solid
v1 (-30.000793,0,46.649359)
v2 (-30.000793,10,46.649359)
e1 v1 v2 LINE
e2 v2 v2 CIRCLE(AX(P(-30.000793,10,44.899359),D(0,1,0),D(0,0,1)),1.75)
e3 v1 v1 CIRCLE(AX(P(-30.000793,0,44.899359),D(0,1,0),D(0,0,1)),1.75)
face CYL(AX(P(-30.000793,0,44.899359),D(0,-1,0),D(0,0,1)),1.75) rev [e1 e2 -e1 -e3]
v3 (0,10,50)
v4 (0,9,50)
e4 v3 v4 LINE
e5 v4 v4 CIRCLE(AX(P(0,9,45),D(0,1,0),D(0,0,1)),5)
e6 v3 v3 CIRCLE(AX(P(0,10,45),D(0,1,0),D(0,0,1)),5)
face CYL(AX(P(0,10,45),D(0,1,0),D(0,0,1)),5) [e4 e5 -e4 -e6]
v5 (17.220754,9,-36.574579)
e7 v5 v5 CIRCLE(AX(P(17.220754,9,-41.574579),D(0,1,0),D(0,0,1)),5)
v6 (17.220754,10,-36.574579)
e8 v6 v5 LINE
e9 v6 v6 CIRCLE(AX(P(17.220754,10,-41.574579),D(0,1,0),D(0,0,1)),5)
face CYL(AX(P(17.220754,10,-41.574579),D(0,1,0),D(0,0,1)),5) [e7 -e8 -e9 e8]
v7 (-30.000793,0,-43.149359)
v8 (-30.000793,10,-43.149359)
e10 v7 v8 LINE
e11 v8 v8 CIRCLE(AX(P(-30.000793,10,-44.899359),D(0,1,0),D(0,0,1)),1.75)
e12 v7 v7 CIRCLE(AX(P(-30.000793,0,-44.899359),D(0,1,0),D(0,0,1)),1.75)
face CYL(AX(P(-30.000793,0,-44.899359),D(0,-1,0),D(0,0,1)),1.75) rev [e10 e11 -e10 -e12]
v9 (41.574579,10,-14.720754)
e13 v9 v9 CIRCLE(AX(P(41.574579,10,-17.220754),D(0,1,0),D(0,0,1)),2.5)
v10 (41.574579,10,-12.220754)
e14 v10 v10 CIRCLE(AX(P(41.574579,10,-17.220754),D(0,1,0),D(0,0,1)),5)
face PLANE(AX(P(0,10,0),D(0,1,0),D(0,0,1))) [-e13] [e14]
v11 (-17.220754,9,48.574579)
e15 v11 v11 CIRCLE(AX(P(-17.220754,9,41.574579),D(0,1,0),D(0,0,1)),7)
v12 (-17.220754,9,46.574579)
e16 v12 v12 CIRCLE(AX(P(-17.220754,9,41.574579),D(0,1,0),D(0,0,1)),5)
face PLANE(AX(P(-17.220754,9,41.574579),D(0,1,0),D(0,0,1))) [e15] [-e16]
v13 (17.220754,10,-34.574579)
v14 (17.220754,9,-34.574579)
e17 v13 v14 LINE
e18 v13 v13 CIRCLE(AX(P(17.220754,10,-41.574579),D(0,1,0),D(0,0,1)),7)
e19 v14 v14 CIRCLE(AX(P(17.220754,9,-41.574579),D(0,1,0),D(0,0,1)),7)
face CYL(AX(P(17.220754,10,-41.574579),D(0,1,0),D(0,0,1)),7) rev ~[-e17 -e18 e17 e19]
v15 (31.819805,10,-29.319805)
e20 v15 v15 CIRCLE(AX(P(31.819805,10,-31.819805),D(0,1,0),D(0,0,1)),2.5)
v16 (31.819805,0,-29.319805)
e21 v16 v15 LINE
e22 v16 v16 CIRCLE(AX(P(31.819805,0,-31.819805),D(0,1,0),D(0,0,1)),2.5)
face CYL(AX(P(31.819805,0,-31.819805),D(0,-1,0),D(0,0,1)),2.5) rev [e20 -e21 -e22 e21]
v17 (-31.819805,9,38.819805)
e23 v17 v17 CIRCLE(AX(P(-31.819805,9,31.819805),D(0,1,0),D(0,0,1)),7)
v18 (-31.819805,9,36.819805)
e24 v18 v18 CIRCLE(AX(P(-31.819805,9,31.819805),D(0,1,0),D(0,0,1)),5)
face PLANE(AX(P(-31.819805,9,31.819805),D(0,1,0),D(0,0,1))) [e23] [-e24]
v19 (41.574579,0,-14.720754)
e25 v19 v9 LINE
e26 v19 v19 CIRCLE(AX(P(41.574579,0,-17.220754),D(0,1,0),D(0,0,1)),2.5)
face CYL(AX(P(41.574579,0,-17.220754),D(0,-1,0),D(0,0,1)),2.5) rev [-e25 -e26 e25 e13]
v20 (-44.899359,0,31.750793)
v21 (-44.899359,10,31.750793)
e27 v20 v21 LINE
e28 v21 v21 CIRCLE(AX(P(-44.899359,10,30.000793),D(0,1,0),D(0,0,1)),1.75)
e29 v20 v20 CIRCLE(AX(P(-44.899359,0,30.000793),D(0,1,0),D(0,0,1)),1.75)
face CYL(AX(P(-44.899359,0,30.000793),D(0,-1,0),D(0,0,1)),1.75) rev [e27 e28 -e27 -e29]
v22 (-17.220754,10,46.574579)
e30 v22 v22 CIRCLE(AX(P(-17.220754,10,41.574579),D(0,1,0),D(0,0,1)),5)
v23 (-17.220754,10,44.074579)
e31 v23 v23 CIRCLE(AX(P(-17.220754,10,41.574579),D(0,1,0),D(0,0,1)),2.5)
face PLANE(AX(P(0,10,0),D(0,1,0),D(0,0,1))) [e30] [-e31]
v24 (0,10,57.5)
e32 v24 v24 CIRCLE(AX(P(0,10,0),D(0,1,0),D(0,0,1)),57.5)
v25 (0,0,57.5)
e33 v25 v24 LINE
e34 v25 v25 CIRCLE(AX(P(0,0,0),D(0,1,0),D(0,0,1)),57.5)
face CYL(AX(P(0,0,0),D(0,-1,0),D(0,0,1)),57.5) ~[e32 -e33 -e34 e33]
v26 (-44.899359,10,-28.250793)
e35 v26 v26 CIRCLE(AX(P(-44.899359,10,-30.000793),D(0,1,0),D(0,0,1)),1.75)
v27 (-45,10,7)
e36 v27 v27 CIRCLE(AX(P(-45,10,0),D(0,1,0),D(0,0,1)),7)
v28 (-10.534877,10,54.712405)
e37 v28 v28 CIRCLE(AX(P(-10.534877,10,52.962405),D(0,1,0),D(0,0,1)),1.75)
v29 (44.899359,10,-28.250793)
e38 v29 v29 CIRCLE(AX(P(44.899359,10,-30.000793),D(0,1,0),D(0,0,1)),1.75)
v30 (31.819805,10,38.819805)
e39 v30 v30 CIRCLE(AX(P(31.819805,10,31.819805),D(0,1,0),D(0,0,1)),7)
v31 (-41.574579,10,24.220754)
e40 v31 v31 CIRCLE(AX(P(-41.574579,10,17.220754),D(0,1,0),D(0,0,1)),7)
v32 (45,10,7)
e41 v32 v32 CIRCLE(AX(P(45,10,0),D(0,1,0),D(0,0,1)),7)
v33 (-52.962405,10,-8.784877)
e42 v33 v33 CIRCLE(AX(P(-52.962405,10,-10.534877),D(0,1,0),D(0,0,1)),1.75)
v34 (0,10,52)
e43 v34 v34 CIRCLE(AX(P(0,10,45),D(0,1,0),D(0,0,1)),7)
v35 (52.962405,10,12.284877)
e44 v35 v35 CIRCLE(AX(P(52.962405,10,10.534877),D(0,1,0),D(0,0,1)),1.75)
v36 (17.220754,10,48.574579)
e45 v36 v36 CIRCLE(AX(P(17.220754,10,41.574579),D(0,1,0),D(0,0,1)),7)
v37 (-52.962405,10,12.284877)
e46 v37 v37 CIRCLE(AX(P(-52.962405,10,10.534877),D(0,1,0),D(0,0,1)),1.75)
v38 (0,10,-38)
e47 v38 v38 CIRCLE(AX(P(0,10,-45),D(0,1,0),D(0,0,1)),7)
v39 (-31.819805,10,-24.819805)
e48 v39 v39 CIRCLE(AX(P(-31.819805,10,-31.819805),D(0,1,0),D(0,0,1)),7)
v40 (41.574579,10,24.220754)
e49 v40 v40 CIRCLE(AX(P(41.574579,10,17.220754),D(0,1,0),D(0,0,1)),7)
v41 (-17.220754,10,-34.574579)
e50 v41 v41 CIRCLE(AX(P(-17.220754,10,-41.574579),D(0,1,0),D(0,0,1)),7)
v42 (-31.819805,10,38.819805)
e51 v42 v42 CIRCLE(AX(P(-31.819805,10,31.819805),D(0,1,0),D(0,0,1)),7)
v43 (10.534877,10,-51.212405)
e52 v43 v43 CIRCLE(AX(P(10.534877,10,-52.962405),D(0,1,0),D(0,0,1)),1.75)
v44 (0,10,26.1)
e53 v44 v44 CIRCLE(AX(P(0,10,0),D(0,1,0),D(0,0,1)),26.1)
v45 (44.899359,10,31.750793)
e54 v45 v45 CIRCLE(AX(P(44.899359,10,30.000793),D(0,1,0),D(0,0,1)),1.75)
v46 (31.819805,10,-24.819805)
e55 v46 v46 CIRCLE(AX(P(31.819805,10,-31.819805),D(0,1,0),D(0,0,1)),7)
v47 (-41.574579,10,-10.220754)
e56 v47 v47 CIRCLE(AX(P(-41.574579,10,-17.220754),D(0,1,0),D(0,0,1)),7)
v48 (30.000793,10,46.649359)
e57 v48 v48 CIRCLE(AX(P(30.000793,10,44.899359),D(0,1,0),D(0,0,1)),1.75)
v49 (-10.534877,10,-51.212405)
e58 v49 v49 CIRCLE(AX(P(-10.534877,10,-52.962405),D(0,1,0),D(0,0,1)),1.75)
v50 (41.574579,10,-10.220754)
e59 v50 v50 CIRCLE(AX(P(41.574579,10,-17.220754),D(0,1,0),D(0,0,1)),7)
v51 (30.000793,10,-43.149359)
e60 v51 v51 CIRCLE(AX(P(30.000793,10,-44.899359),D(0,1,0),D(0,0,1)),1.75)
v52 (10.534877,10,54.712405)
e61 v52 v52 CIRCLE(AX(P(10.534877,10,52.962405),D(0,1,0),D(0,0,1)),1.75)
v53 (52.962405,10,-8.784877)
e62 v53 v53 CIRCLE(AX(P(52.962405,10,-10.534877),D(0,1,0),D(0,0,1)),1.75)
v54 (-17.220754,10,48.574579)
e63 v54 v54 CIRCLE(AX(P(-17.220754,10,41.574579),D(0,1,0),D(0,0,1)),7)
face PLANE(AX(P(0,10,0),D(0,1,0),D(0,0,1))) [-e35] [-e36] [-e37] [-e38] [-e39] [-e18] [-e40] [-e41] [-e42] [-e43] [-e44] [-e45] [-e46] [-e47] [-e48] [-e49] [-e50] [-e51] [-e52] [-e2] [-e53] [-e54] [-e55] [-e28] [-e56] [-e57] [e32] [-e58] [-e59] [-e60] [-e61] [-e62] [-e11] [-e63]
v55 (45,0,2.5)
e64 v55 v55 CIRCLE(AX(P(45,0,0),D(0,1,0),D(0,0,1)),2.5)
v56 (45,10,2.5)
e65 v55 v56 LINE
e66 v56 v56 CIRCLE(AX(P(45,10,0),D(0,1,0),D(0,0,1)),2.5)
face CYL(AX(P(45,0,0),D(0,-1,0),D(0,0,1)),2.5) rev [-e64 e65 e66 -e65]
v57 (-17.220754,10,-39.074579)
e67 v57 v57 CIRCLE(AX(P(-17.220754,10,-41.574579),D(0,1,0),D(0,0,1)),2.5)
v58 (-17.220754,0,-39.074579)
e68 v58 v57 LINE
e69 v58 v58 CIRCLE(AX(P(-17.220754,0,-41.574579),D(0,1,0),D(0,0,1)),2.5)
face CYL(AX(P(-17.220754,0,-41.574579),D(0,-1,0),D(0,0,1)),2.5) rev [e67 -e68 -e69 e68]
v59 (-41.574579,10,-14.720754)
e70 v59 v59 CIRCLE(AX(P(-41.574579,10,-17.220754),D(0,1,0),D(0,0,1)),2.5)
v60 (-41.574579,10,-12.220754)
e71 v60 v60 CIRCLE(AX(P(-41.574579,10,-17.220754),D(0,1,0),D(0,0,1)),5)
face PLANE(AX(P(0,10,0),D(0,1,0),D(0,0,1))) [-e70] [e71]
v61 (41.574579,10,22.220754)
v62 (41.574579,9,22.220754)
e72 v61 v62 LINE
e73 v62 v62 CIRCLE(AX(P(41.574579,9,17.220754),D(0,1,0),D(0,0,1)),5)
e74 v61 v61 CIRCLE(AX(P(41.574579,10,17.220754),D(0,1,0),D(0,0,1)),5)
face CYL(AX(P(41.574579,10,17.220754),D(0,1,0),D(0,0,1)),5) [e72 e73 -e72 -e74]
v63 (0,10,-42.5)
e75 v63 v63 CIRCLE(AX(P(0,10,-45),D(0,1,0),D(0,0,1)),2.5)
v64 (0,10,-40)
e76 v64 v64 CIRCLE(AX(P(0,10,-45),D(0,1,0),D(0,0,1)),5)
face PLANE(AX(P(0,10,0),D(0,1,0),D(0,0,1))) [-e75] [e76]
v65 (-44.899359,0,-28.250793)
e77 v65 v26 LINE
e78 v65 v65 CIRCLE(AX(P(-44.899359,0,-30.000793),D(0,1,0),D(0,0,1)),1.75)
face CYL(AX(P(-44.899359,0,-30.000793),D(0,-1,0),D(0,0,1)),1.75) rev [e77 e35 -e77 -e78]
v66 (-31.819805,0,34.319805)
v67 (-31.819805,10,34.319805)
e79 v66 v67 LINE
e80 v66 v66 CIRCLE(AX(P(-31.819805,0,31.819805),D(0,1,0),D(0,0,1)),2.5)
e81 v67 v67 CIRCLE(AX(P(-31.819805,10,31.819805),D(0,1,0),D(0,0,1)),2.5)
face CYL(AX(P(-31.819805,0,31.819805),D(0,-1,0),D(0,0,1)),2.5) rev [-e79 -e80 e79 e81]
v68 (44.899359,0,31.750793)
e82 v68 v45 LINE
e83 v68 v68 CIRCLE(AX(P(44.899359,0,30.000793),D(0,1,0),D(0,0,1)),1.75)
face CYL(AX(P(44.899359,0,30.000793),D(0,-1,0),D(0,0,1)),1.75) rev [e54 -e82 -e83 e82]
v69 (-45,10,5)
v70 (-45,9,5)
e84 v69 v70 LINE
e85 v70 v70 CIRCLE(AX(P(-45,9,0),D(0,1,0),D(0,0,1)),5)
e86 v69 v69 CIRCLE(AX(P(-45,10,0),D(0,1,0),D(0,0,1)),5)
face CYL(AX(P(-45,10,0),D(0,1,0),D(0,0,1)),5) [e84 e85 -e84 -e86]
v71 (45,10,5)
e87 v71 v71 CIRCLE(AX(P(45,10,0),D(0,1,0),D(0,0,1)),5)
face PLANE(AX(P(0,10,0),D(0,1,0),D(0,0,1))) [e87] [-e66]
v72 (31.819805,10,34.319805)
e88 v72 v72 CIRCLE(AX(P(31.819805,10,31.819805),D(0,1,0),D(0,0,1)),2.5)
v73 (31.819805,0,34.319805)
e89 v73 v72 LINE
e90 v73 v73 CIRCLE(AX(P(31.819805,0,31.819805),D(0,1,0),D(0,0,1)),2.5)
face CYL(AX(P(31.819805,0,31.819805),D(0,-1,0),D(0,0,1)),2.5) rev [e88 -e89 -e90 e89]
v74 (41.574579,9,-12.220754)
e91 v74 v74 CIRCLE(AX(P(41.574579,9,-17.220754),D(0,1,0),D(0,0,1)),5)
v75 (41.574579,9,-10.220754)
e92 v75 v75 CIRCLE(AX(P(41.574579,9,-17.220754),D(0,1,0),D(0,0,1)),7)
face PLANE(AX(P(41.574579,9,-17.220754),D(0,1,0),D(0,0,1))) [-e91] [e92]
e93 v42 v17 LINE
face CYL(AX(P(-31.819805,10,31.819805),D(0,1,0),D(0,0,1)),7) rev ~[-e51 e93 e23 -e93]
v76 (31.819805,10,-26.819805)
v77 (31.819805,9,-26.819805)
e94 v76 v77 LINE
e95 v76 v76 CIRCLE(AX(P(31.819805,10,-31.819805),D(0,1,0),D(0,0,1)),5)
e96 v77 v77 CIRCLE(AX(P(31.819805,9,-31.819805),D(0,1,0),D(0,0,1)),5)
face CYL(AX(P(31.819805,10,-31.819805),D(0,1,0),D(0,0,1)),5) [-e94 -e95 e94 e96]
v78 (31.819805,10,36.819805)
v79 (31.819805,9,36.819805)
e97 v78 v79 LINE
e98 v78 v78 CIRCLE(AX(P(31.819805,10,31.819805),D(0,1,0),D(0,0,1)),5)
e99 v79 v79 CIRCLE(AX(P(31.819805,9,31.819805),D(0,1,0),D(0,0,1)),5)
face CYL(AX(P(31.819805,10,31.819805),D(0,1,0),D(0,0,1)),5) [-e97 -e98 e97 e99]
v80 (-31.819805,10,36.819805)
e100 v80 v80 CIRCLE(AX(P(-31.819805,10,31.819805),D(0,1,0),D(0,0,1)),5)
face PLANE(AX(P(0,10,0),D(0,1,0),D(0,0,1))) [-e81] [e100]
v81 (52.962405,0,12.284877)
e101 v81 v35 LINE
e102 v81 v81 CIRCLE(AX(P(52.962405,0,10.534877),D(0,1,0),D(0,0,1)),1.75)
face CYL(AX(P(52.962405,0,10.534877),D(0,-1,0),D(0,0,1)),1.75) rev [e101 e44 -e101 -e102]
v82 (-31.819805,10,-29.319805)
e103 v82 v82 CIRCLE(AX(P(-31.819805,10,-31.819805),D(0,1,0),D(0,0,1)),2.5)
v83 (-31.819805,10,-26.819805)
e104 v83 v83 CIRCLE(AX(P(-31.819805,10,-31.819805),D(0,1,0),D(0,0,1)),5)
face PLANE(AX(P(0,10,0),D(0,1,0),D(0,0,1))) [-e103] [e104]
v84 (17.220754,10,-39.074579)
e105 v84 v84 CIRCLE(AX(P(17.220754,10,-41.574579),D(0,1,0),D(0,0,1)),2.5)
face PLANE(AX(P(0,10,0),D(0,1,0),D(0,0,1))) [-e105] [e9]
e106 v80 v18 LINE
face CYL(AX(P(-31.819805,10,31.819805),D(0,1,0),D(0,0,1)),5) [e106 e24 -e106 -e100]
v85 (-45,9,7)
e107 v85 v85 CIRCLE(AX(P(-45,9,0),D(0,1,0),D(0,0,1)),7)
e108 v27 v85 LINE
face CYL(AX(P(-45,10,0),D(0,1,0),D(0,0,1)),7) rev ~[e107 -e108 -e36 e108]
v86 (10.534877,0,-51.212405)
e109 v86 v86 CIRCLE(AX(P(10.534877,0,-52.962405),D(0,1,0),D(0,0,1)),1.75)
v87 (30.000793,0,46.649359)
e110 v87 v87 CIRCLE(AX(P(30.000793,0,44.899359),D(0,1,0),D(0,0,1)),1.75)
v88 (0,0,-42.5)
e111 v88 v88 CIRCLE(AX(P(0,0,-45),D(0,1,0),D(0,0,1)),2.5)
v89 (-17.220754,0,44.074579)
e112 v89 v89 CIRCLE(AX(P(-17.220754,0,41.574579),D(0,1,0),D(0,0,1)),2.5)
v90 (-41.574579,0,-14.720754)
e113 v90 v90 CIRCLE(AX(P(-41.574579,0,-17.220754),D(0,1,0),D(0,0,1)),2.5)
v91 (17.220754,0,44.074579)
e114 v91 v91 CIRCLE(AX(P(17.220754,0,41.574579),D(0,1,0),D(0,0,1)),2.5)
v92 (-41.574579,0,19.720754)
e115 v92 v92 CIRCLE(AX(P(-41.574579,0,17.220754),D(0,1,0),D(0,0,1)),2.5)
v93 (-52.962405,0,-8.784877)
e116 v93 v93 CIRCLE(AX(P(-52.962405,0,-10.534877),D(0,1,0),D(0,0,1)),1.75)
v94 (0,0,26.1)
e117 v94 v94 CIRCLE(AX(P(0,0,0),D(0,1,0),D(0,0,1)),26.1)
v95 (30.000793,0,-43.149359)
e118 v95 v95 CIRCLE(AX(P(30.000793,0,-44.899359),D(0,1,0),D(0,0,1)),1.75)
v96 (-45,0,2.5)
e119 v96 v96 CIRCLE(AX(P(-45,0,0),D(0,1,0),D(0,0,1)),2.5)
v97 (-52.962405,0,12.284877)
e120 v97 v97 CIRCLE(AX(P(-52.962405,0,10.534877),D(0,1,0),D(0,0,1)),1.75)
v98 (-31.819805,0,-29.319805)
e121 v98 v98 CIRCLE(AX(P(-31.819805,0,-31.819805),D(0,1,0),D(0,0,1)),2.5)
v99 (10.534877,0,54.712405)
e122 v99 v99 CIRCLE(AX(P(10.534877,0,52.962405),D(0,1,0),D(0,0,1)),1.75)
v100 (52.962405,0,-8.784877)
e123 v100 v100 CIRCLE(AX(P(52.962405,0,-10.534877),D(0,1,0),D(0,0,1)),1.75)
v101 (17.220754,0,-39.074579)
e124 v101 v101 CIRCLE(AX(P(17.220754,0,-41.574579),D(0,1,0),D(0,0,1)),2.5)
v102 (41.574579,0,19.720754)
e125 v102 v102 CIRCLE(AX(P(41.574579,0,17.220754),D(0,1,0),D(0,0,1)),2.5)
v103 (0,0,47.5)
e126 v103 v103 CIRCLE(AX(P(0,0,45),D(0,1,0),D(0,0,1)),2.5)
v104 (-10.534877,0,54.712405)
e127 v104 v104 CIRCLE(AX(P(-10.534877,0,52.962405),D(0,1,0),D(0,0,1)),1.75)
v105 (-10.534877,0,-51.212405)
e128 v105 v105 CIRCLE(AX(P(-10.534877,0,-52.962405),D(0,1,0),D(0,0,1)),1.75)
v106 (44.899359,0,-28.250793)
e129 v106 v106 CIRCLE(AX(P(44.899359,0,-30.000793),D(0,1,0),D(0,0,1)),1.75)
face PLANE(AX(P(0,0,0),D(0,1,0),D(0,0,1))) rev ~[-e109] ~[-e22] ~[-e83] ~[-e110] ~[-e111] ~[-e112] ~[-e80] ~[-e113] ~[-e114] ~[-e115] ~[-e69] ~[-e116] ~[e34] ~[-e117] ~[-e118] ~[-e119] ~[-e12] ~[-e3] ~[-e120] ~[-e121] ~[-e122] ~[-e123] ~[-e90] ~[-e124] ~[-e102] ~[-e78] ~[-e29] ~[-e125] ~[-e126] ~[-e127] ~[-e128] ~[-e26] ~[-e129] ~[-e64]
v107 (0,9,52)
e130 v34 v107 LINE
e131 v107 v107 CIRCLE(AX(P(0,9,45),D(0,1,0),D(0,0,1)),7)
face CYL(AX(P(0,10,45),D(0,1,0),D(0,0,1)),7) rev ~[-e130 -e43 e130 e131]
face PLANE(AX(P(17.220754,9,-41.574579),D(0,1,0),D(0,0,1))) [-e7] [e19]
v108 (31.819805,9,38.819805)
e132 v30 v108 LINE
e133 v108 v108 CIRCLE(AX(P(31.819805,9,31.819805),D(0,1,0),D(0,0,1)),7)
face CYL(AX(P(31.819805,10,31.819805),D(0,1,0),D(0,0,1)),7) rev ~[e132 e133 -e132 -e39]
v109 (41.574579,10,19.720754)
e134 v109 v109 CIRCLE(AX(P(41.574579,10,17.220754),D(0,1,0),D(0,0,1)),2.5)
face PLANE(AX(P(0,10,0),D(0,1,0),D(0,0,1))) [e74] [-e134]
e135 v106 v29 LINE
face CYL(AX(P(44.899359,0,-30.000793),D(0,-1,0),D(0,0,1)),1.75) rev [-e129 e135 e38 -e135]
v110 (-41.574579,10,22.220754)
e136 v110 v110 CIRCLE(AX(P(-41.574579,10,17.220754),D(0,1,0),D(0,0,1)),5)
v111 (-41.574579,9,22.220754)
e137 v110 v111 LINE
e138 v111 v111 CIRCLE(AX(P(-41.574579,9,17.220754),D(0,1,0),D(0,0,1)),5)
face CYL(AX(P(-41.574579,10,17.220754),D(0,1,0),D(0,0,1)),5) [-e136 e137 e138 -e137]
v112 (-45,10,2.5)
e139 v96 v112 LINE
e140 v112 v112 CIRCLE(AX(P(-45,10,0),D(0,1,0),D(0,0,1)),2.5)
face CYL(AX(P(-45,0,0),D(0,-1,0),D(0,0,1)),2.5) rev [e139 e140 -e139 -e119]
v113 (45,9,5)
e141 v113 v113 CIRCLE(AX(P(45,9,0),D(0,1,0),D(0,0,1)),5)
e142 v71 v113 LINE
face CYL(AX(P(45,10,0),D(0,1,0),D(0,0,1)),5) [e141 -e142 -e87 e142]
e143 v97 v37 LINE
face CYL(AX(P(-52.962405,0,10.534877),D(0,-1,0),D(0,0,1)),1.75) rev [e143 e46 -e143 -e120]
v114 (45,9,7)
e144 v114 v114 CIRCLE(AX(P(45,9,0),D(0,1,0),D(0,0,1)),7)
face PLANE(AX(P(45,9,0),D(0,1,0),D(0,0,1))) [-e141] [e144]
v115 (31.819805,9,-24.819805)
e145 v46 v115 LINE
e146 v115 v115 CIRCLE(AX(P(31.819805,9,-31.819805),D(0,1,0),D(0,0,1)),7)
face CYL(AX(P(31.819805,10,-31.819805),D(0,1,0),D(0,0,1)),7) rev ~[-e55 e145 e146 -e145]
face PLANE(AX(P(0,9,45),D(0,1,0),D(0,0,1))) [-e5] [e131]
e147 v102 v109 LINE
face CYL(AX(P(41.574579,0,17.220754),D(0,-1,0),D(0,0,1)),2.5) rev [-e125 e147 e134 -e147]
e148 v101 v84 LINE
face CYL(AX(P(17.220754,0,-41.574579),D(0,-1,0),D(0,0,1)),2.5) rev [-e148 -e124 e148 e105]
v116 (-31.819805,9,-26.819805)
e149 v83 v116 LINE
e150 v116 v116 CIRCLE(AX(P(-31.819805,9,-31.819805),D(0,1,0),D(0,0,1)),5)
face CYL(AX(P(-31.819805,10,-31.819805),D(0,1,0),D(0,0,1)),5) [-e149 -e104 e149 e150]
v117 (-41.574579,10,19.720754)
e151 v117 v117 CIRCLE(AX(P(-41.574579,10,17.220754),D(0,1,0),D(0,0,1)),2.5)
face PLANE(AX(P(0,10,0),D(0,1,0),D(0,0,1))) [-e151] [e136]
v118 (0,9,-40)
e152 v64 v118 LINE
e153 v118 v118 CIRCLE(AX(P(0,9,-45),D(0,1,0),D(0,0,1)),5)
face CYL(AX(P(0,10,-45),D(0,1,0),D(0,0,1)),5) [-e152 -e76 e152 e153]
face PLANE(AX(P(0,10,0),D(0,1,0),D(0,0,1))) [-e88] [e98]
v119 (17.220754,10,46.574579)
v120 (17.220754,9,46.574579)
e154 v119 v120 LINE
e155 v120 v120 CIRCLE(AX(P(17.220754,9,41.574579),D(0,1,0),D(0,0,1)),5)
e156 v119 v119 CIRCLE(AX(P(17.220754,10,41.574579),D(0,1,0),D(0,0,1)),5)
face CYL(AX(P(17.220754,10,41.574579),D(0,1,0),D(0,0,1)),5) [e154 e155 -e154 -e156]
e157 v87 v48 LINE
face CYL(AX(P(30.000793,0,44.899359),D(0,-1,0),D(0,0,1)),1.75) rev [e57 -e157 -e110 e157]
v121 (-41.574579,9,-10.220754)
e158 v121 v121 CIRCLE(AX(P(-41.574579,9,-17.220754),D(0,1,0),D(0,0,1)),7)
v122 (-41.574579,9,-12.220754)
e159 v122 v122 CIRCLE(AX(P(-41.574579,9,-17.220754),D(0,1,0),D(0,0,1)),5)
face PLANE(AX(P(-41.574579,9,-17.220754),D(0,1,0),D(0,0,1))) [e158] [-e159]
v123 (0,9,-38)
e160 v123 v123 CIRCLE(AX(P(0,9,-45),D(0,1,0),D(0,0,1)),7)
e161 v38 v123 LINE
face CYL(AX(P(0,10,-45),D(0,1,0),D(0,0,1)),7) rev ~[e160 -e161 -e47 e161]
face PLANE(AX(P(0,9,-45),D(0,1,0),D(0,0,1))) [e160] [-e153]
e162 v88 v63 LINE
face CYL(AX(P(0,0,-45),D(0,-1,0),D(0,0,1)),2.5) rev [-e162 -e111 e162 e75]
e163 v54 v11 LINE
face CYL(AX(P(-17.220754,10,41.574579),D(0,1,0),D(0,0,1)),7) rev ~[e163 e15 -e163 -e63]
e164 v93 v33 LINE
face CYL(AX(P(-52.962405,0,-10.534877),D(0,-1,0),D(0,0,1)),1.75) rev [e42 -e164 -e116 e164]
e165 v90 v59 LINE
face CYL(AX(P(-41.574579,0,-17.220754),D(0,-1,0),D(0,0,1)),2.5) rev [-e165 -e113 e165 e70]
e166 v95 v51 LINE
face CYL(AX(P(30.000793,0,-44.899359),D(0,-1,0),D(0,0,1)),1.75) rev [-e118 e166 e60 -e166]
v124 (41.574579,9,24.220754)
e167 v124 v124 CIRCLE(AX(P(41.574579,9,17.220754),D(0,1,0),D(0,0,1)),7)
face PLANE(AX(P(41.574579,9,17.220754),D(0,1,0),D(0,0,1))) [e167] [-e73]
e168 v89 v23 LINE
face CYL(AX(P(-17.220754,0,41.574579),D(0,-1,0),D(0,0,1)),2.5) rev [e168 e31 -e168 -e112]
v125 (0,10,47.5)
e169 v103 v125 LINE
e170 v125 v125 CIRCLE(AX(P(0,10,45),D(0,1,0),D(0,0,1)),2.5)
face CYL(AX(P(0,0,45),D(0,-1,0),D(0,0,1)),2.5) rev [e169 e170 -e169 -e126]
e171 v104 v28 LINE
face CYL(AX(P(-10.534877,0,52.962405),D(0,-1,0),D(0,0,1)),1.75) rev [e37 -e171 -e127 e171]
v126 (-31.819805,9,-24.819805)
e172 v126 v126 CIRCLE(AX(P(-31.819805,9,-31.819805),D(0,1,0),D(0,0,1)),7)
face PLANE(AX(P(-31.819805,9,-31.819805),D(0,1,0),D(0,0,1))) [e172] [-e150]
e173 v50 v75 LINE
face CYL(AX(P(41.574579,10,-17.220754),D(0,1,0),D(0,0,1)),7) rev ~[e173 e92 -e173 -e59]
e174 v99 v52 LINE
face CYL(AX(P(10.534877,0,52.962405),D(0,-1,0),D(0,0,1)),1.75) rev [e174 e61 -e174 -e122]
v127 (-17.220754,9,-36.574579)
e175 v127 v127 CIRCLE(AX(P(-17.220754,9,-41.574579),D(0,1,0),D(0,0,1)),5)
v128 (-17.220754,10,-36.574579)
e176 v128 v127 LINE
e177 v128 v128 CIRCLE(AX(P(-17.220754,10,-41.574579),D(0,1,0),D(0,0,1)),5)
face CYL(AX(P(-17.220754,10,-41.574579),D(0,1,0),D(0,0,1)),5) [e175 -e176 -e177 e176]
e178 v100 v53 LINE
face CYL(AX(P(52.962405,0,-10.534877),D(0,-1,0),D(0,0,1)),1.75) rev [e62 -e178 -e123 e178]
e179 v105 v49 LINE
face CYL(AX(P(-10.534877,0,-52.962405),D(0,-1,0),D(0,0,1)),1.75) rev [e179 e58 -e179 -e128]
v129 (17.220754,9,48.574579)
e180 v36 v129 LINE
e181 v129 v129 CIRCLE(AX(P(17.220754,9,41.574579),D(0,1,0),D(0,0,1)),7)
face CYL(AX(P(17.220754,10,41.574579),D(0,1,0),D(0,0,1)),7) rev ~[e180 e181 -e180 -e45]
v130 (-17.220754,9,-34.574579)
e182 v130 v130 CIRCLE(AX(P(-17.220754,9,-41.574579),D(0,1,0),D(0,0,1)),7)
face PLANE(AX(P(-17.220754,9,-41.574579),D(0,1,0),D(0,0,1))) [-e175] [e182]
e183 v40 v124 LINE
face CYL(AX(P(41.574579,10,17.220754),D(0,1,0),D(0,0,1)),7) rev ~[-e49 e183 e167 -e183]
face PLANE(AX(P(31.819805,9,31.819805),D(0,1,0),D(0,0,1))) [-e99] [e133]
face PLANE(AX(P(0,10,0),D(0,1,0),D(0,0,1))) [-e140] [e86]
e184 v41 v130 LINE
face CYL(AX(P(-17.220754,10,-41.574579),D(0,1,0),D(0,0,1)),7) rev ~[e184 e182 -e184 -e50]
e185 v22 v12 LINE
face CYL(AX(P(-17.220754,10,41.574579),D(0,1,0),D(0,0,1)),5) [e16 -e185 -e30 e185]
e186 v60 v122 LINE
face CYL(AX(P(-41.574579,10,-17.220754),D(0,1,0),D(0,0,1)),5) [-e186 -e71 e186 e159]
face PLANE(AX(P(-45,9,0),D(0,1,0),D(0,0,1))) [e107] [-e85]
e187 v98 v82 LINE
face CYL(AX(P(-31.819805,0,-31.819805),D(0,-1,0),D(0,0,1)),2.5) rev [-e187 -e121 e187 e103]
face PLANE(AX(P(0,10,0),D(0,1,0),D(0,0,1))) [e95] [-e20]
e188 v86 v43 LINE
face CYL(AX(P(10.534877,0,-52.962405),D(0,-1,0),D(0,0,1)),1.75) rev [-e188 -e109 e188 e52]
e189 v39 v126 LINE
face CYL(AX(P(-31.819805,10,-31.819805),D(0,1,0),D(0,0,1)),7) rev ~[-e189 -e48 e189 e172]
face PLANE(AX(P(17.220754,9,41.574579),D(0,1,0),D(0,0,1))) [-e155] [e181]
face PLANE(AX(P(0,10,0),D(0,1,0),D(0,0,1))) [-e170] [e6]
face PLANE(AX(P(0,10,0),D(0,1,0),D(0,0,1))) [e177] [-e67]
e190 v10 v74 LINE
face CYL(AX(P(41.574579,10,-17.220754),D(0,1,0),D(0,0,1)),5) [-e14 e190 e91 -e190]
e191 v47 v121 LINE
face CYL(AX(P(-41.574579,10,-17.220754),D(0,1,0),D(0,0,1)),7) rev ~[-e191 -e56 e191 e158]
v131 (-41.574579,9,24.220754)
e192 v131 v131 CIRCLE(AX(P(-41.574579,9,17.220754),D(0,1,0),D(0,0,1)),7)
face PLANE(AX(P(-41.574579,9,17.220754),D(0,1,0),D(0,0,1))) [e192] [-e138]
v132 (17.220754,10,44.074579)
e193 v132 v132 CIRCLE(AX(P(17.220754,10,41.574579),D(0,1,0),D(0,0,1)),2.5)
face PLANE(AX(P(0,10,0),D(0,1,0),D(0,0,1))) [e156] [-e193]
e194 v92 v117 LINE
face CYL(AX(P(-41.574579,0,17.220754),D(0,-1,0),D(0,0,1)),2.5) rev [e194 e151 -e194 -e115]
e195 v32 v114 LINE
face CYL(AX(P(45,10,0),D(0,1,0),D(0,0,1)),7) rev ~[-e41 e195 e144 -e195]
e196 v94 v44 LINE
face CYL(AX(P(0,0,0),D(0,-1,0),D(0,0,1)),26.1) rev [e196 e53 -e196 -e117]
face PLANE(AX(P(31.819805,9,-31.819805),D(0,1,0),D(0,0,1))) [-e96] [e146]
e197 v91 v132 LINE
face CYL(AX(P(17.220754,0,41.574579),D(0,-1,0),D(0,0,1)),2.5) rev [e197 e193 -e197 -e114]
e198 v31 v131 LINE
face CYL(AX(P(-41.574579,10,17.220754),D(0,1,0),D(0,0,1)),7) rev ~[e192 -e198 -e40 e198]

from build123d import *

# Parameters (mm, degrees)
SKETCH1_R           = 57.5
SKETCH1_R_2         = 1.75
SKETCH1_R_3         = 26.1
SKETCH1_R_4         = 2.5
BOSS_EXTRUDE1_DEPTH = 10
SKETCH2_R           = 7
SKETCH2_R_2         = 5
CUT_EXTRUDE1_DEPTH  = 1


with BuildPart() as part:
    # Sketch1 → Boss-Extrude1 (new body)
    with BuildSketch(Plane(origin=(0, 0, 0), x_dir=(1, 0, 0), z_dir=(0, 1, 0))):
        with Locations(Location((0, 0, 0), (0, 0, 270))):
            Circle(SKETCH1_R)
        with Locations(Location((-10.534877389, 52.962405142, 0), (0, 0, 270))):
            Circle(SKETCH1_R_2, mode=Mode.SUBTRACT)
        with Locations(Location((10.534877389, 52.962405142, 0), (0, 0, 270))):
            Circle(SKETCH1_R_2, mode=Mode.SUBTRACT)
        with Locations(Location((30.000792583, 44.899359064, 0), (0, 0, 270))):
            Circle(SKETCH1_R_2, mode=Mode.SUBTRACT)
        with Locations(Location((44.899359064, 30.000792583, 0), (0, 0, 270))):
            Circle(SKETCH1_R_2, mode=Mode.SUBTRACT)
        with Locations(Location((52.962405142, 10.534877389, 0), (0, 0, 270))):
            Circle(SKETCH1_R_2, mode=Mode.SUBTRACT)
        with Locations(Location((52.962405142, -10.534877389, 0), (0, 0, 270))):
            Circle(SKETCH1_R_2, mode=Mode.SUBTRACT)
        with Locations(Location((44.899359064, -30.000792583, 0), (0, 0, 270))):
            Circle(SKETCH1_R_2, mode=Mode.SUBTRACT)
        with Locations(Location((30.000792583, -44.899359064, 0), (0, 0, 270))):
            Circle(SKETCH1_R_2, mode=Mode.SUBTRACT)
        with Locations(Location((10.534877389, -52.962405142, 0), (0, 0, 270))):
            Circle(SKETCH1_R_2, mode=Mode.SUBTRACT)
        with Locations(Location((-10.534877389, -52.962405142, 0), (0, 0, 270))):
            Circle(SKETCH1_R_2, mode=Mode.SUBTRACT)
        with Locations(Location((-30.000792583, -44.899359064, 0), (0, 0, 270))):
            Circle(SKETCH1_R_2, mode=Mode.SUBTRACT)
        with Locations(Location((-44.899359064, -30.000792583, 0), (0, 0, 270))):
            Circle(SKETCH1_R_2, mode=Mode.SUBTRACT)
        with Locations(Location((0, 0, 0), (0, 0, 270))):
            Circle(SKETCH1_R_3, mode=Mode.SUBTRACT)
        with Locations(Location((0, 45, 0), (0, 0, 270))):
            Circle(SKETCH1_R_4, mode=Mode.SUBTRACT)
        with Locations(Location((17.220754456, 41.574578963, 0), (0, 0, 270))):
            Circle(SKETCH1_R_4, mode=Mode.SUBTRACT)
        with Locations(Location((31.819805153, 31.819805153, 0), (0, 0, 270))):
            Circle(SKETCH1_R_4, mode=Mode.SUBTRACT)
        with Locations(Location((41.574578963, 17.220754456, 0), (0, 0, 270))):
            Circle(SKETCH1_R_4, mode=Mode.SUBTRACT)
        with Locations(Location((45, 0, 0), (0, 0, 270))):
            Circle(SKETCH1_R_4, mode=Mode.SUBTRACT)
        with Locations(Location((41.574578963, -17.220754456, 0), (0, 0, 270))):
            Circle(SKETCH1_R_4, mode=Mode.SUBTRACT)
        with Locations(Location((31.819805153, -31.819805153, 0), (0, 0, 270))):
            Circle(SKETCH1_R_4, mode=Mode.SUBTRACT)
        with Locations(Location((17.220754456, -41.574578963, 0), (0, 0, 270))):
            Circle(SKETCH1_R_4, mode=Mode.SUBTRACT)
        with Locations(Location((0, -45, 0), (0, 0, 270))):
            Circle(SKETCH1_R_4, mode=Mode.SUBTRACT)
        with Locations(Location((-17.220754456, -41.574578963, 0), (0, 0, 270))):
            Circle(SKETCH1_R_4, mode=Mode.SUBTRACT)
        with Locations(Location((-31.819805153, -31.819805153, 0), (0, 0, 270))):
            Circle(SKETCH1_R_4, mode=Mode.SUBTRACT)
        with Locations(Location((-41.574578963, -17.220754456, 0), (0, 0, 270))):
            Circle(SKETCH1_R_4, mode=Mode.SUBTRACT)
        with Locations(Location((-45, 0, 0), (0, 0, 270))):
            Circle(SKETCH1_R_4, mode=Mode.SUBTRACT)
        with Locations(Location((-41.574578963, 17.220754456, 0), (0, 0, 270))):
            Circle(SKETCH1_R_4, mode=Mode.SUBTRACT)
        with Locations(Location((-31.819805153, 31.819805153, 0), (0, 0, 270))):
            Circle(SKETCH1_R_4, mode=Mode.SUBTRACT)
        with Locations(Location((-17.220754456, 41.574578963, 0), (0, 0, 270))):
            Circle(SKETCH1_R_4, mode=Mode.SUBTRACT)
        with Locations(Location((-52.962405142, -10.534877389, 0), (0, 0, 270))):
            Circle(SKETCH1_R_2, mode=Mode.SUBTRACT)
        with Locations(Location((-52.962405142, 10.534877389, 0), (0, 0, 270))):
            Circle(SKETCH1_R_2, mode=Mode.SUBTRACT)
        with Locations(Location((-44.899359064, 30.000792583, 0), (0, 0, 270))):
            Circle(SKETCH1_R_2, mode=Mode.SUBTRACT)
        with Locations(Location((-30.000792583, 44.899359064, 0), (0, 0, 270))):
            Circle(SKETCH1_R_2, mode=Mode.SUBTRACT)
    extrude(amount=BOSS_EXTRUDE1_DEPTH)

    # Sketch2 → Cut-Extrude1 (cut)
    # profile 1 of 16: a face of its own
    with BuildSketch(Plane(origin=(0, 10, 0), x_dir=(1, 0, 0), z_dir=(0, 1, 0))):
        with Locations(Location((0, 45, 0), (0, 0, 270))):
            Circle(SKETCH2_R)
        with Locations(Location((0, 45, 0), (0, 0, 270))):
            Circle(SKETCH2_R_2, mode=Mode.SUBTRACT)
    # profile 2 of 16: a face of its own
    with BuildSketch(Plane(origin=(0, 10, 0), x_dir=(1, 0, 0), z_dir=(0, 1, 0))):
        with Locations(Location((17.220754456, 41.574578963, 0), (0, 0, 270))):
            Circle(SKETCH2_R)
        with Locations(Location((17.220754456, 41.574578963, 0), (0, 0, 270))):
            Circle(SKETCH2_R_2, mode=Mode.SUBTRACT)
    # profile 3 of 16: a face of its own
    with BuildSketch(Plane(origin=(0, 10, 0), x_dir=(1, 0, 0), z_dir=(0, 1, 0))):
        with Locations(Location((31.819805153, 31.819805153, 0), (0, 0, 270))):
            Circle(SKETCH2_R)
        with Locations(Location((31.819805153, 31.819805153, 0), (0, 0, 270))):
            Circle(SKETCH2_R_2, mode=Mode.SUBTRACT)
    # profile 4 of 16: a face of its own
    with BuildSketch(Plane(origin=(0, 10, 0), x_dir=(1, 0, 0), z_dir=(0, 1, 0))):
        with Locations(Location((41.574578963, 17.220754456, 0), (0, 0, 270))):
            Circle(SKETCH2_R)
        with Locations(Location((41.574578963, 17.220754456, 0), (0, 0, 270))):
            Circle(SKETCH2_R_2, mode=Mode.SUBTRACT)
    # profile 5 of 16: a face of its own
    with BuildSketch(Plane(origin=(0, 10, 0), x_dir=(1, 0, 0), z_dir=(0, 1, 0))):
        with Locations(Location((45, 0, 0), (0, 0, 270))):
            Circle(SKETCH2_R)
        with Locations(Location((45, 0, 0), (0, 0, 270))):
            Circle(SKETCH2_R_2, mode=Mode.SUBTRACT)
    # profile 6 of 16: a face of its own
    with BuildSketch(Plane(origin=(0, 10, 0), x_dir=(1, 0, 0), z_dir=(0, 1, 0))):
        with Locations(Location((41.574578963, -17.220754456, 0), (0, 0, 270))):
            Circle(SKETCH2_R)
        with Locations(Location((41.574578963, -17.220754456, 0), (0, 0, 270))):
            Circle(SKETCH2_R_2, mode=Mode.SUBTRACT)
    # profile 7 of 16: a face of its own
    with BuildSketch(Plane(origin=(0, 10, 0), x_dir=(1, 0, 0), z_dir=(0, 1, 0))):
        with Locations(Location((31.819805153, -31.819805153, 0), (0, 0, 270))):
            Circle(SKETCH2_R)
        with Locations(Location((31.819805153, -31.819805153, 0), (0, 0, 270))):
            Circle(SKETCH2_R_2, mode=Mode.SUBTRACT)
    # profile 8 of 16: a face of its own
    with BuildSketch(Plane(origin=(0, 10, 0), x_dir=(1, 0, 0), z_dir=(0, 1, 0))):
        with Locations(Location((17.220754456, -41.574578963, 0), (0, 0, 270))):
            Circle(SKETCH2_R)
        with Locations(Location((17.220754456, -41.574578963, 0), (0, 0, 270))):
            Circle(SKETCH2_R_2, mode=Mode.SUBTRACT)
    # profile 9 of 16: a face of its own
    with BuildSketch(Plane(origin=(0, 10, 0), x_dir=(1, 0, 0), z_dir=(0, 1, 0))):
        with Locations(Location((0, -45, 0), (0, 0, 270))):
            Circle(SKETCH2_R)
        with Locations(Location((0, -45, 0), (0, 0, 270))):
            Circle(SKETCH2_R_2, mode=Mode.SUBTRACT)
    # profile 10 of 16: a face of its own
    with BuildSketch(Plane(origin=(0, 10, 0), x_dir=(1, 0, 0), z_dir=(0, 1, 0))):
        with Locations(Location((-17.220754456, -41.574578963, 0), (0, 0, 270))):
            Circle(SKETCH2_R)
        with Locations(Location((-17.220754456, -41.574578963, 0), (0, 0, 270))):
            Circle(SKETCH2_R_2, mode=Mode.SUBTRACT)
    # profile 11 of 16: a face of its own
    with BuildSketch(Plane(origin=(0, 10, 0), x_dir=(1, 0, 0), z_dir=(0, 1, 0))):
        with Locations(Location((-31.819805153, -31.819805153, 0), (0, 0, 270))):
            Circle(SKETCH2_R)
        with Locations(Location((-31.819805153, -31.819805153, 0), (0, 0, 270))):
            Circle(SKETCH2_R_2, mode=Mode.SUBTRACT)
    # profile 12 of 16: a face of its own
    with BuildSketch(Plane(origin=(0, 10, 0), x_dir=(1, 0, 0), z_dir=(0, 1, 0))):
        with Locations(Location((-41.574578963, -17.220754456, 0), (0, 0, 270))):
            Circle(SKETCH2_R)
        with Locations(Location((-41.574578963, -17.220754456, 0), (0, 0, 270))):
            Circle(SKETCH2_R_2, mode=Mode.SUBTRACT)
    # profile 13 of 16: a face of its own
    with BuildSketch(Plane(origin=(0, 10, 0), x_dir=(1, 0, 0), z_dir=(0, 1, 0))):
        with Locations(Location((-45, 0, 0), (0, 0, 270))):
            Circle(SKETCH2_R)
        with Locations(Location((-45, 0, 0), (0, 0, 270))):
            Circle(SKETCH2_R_2, mode=Mode.SUBTRACT)
    # profile 14 of 16: a face of its own
    with BuildSketch(Plane(origin=(0, 10, 0), x_dir=(1, 0, 0), z_dir=(0, 1, 0))):
        with Locations(Location((-41.574578963, 17.220754456, 0), (0, 0, 270))):
            Circle(SKETCH2_R)
        with Locations(Location((-41.574578963, 17.220754456, 0), (0, 0, 270))):
            Circle(SKETCH2_R_2, mode=Mode.SUBTRACT)
    # profile 15 of 16: a face of its own
    with BuildSketch(Plane(origin=(0, 10, 0), x_dir=(1, 0, 0), z_dir=(0, 1, 0))):
        with Locations(Location((-31.819805153, 31.819805153, 0), (0, 0, 270))):
            Circle(SKETCH2_R)
        with Locations(Location((-31.819805153, 31.819805153, 0), (0, 0, 270))):
            Circle(SKETCH2_R_2, mode=Mode.SUBTRACT)
    # profile 16 of 16: a face of its own
    with BuildSketch(Plane(origin=(0, 10, 0), x_dir=(1, 0, 0), z_dir=(0, 1, 0))):
        with Locations(Location((-17.220754456, 41.574578963, 0), (0, 0, 270))):
            Circle(SKETCH2_R)
        with Locations(Location((-17.220754456, 41.574578963, 0), (0, 0, 270))):
            Circle(SKETCH2_R_2, mode=Mode.SUBTRACT)
    extrude(amount=-CUT_EXTRUDE1_DEPTH, mode=Mode.SUBTRACT)


solid = part.part
